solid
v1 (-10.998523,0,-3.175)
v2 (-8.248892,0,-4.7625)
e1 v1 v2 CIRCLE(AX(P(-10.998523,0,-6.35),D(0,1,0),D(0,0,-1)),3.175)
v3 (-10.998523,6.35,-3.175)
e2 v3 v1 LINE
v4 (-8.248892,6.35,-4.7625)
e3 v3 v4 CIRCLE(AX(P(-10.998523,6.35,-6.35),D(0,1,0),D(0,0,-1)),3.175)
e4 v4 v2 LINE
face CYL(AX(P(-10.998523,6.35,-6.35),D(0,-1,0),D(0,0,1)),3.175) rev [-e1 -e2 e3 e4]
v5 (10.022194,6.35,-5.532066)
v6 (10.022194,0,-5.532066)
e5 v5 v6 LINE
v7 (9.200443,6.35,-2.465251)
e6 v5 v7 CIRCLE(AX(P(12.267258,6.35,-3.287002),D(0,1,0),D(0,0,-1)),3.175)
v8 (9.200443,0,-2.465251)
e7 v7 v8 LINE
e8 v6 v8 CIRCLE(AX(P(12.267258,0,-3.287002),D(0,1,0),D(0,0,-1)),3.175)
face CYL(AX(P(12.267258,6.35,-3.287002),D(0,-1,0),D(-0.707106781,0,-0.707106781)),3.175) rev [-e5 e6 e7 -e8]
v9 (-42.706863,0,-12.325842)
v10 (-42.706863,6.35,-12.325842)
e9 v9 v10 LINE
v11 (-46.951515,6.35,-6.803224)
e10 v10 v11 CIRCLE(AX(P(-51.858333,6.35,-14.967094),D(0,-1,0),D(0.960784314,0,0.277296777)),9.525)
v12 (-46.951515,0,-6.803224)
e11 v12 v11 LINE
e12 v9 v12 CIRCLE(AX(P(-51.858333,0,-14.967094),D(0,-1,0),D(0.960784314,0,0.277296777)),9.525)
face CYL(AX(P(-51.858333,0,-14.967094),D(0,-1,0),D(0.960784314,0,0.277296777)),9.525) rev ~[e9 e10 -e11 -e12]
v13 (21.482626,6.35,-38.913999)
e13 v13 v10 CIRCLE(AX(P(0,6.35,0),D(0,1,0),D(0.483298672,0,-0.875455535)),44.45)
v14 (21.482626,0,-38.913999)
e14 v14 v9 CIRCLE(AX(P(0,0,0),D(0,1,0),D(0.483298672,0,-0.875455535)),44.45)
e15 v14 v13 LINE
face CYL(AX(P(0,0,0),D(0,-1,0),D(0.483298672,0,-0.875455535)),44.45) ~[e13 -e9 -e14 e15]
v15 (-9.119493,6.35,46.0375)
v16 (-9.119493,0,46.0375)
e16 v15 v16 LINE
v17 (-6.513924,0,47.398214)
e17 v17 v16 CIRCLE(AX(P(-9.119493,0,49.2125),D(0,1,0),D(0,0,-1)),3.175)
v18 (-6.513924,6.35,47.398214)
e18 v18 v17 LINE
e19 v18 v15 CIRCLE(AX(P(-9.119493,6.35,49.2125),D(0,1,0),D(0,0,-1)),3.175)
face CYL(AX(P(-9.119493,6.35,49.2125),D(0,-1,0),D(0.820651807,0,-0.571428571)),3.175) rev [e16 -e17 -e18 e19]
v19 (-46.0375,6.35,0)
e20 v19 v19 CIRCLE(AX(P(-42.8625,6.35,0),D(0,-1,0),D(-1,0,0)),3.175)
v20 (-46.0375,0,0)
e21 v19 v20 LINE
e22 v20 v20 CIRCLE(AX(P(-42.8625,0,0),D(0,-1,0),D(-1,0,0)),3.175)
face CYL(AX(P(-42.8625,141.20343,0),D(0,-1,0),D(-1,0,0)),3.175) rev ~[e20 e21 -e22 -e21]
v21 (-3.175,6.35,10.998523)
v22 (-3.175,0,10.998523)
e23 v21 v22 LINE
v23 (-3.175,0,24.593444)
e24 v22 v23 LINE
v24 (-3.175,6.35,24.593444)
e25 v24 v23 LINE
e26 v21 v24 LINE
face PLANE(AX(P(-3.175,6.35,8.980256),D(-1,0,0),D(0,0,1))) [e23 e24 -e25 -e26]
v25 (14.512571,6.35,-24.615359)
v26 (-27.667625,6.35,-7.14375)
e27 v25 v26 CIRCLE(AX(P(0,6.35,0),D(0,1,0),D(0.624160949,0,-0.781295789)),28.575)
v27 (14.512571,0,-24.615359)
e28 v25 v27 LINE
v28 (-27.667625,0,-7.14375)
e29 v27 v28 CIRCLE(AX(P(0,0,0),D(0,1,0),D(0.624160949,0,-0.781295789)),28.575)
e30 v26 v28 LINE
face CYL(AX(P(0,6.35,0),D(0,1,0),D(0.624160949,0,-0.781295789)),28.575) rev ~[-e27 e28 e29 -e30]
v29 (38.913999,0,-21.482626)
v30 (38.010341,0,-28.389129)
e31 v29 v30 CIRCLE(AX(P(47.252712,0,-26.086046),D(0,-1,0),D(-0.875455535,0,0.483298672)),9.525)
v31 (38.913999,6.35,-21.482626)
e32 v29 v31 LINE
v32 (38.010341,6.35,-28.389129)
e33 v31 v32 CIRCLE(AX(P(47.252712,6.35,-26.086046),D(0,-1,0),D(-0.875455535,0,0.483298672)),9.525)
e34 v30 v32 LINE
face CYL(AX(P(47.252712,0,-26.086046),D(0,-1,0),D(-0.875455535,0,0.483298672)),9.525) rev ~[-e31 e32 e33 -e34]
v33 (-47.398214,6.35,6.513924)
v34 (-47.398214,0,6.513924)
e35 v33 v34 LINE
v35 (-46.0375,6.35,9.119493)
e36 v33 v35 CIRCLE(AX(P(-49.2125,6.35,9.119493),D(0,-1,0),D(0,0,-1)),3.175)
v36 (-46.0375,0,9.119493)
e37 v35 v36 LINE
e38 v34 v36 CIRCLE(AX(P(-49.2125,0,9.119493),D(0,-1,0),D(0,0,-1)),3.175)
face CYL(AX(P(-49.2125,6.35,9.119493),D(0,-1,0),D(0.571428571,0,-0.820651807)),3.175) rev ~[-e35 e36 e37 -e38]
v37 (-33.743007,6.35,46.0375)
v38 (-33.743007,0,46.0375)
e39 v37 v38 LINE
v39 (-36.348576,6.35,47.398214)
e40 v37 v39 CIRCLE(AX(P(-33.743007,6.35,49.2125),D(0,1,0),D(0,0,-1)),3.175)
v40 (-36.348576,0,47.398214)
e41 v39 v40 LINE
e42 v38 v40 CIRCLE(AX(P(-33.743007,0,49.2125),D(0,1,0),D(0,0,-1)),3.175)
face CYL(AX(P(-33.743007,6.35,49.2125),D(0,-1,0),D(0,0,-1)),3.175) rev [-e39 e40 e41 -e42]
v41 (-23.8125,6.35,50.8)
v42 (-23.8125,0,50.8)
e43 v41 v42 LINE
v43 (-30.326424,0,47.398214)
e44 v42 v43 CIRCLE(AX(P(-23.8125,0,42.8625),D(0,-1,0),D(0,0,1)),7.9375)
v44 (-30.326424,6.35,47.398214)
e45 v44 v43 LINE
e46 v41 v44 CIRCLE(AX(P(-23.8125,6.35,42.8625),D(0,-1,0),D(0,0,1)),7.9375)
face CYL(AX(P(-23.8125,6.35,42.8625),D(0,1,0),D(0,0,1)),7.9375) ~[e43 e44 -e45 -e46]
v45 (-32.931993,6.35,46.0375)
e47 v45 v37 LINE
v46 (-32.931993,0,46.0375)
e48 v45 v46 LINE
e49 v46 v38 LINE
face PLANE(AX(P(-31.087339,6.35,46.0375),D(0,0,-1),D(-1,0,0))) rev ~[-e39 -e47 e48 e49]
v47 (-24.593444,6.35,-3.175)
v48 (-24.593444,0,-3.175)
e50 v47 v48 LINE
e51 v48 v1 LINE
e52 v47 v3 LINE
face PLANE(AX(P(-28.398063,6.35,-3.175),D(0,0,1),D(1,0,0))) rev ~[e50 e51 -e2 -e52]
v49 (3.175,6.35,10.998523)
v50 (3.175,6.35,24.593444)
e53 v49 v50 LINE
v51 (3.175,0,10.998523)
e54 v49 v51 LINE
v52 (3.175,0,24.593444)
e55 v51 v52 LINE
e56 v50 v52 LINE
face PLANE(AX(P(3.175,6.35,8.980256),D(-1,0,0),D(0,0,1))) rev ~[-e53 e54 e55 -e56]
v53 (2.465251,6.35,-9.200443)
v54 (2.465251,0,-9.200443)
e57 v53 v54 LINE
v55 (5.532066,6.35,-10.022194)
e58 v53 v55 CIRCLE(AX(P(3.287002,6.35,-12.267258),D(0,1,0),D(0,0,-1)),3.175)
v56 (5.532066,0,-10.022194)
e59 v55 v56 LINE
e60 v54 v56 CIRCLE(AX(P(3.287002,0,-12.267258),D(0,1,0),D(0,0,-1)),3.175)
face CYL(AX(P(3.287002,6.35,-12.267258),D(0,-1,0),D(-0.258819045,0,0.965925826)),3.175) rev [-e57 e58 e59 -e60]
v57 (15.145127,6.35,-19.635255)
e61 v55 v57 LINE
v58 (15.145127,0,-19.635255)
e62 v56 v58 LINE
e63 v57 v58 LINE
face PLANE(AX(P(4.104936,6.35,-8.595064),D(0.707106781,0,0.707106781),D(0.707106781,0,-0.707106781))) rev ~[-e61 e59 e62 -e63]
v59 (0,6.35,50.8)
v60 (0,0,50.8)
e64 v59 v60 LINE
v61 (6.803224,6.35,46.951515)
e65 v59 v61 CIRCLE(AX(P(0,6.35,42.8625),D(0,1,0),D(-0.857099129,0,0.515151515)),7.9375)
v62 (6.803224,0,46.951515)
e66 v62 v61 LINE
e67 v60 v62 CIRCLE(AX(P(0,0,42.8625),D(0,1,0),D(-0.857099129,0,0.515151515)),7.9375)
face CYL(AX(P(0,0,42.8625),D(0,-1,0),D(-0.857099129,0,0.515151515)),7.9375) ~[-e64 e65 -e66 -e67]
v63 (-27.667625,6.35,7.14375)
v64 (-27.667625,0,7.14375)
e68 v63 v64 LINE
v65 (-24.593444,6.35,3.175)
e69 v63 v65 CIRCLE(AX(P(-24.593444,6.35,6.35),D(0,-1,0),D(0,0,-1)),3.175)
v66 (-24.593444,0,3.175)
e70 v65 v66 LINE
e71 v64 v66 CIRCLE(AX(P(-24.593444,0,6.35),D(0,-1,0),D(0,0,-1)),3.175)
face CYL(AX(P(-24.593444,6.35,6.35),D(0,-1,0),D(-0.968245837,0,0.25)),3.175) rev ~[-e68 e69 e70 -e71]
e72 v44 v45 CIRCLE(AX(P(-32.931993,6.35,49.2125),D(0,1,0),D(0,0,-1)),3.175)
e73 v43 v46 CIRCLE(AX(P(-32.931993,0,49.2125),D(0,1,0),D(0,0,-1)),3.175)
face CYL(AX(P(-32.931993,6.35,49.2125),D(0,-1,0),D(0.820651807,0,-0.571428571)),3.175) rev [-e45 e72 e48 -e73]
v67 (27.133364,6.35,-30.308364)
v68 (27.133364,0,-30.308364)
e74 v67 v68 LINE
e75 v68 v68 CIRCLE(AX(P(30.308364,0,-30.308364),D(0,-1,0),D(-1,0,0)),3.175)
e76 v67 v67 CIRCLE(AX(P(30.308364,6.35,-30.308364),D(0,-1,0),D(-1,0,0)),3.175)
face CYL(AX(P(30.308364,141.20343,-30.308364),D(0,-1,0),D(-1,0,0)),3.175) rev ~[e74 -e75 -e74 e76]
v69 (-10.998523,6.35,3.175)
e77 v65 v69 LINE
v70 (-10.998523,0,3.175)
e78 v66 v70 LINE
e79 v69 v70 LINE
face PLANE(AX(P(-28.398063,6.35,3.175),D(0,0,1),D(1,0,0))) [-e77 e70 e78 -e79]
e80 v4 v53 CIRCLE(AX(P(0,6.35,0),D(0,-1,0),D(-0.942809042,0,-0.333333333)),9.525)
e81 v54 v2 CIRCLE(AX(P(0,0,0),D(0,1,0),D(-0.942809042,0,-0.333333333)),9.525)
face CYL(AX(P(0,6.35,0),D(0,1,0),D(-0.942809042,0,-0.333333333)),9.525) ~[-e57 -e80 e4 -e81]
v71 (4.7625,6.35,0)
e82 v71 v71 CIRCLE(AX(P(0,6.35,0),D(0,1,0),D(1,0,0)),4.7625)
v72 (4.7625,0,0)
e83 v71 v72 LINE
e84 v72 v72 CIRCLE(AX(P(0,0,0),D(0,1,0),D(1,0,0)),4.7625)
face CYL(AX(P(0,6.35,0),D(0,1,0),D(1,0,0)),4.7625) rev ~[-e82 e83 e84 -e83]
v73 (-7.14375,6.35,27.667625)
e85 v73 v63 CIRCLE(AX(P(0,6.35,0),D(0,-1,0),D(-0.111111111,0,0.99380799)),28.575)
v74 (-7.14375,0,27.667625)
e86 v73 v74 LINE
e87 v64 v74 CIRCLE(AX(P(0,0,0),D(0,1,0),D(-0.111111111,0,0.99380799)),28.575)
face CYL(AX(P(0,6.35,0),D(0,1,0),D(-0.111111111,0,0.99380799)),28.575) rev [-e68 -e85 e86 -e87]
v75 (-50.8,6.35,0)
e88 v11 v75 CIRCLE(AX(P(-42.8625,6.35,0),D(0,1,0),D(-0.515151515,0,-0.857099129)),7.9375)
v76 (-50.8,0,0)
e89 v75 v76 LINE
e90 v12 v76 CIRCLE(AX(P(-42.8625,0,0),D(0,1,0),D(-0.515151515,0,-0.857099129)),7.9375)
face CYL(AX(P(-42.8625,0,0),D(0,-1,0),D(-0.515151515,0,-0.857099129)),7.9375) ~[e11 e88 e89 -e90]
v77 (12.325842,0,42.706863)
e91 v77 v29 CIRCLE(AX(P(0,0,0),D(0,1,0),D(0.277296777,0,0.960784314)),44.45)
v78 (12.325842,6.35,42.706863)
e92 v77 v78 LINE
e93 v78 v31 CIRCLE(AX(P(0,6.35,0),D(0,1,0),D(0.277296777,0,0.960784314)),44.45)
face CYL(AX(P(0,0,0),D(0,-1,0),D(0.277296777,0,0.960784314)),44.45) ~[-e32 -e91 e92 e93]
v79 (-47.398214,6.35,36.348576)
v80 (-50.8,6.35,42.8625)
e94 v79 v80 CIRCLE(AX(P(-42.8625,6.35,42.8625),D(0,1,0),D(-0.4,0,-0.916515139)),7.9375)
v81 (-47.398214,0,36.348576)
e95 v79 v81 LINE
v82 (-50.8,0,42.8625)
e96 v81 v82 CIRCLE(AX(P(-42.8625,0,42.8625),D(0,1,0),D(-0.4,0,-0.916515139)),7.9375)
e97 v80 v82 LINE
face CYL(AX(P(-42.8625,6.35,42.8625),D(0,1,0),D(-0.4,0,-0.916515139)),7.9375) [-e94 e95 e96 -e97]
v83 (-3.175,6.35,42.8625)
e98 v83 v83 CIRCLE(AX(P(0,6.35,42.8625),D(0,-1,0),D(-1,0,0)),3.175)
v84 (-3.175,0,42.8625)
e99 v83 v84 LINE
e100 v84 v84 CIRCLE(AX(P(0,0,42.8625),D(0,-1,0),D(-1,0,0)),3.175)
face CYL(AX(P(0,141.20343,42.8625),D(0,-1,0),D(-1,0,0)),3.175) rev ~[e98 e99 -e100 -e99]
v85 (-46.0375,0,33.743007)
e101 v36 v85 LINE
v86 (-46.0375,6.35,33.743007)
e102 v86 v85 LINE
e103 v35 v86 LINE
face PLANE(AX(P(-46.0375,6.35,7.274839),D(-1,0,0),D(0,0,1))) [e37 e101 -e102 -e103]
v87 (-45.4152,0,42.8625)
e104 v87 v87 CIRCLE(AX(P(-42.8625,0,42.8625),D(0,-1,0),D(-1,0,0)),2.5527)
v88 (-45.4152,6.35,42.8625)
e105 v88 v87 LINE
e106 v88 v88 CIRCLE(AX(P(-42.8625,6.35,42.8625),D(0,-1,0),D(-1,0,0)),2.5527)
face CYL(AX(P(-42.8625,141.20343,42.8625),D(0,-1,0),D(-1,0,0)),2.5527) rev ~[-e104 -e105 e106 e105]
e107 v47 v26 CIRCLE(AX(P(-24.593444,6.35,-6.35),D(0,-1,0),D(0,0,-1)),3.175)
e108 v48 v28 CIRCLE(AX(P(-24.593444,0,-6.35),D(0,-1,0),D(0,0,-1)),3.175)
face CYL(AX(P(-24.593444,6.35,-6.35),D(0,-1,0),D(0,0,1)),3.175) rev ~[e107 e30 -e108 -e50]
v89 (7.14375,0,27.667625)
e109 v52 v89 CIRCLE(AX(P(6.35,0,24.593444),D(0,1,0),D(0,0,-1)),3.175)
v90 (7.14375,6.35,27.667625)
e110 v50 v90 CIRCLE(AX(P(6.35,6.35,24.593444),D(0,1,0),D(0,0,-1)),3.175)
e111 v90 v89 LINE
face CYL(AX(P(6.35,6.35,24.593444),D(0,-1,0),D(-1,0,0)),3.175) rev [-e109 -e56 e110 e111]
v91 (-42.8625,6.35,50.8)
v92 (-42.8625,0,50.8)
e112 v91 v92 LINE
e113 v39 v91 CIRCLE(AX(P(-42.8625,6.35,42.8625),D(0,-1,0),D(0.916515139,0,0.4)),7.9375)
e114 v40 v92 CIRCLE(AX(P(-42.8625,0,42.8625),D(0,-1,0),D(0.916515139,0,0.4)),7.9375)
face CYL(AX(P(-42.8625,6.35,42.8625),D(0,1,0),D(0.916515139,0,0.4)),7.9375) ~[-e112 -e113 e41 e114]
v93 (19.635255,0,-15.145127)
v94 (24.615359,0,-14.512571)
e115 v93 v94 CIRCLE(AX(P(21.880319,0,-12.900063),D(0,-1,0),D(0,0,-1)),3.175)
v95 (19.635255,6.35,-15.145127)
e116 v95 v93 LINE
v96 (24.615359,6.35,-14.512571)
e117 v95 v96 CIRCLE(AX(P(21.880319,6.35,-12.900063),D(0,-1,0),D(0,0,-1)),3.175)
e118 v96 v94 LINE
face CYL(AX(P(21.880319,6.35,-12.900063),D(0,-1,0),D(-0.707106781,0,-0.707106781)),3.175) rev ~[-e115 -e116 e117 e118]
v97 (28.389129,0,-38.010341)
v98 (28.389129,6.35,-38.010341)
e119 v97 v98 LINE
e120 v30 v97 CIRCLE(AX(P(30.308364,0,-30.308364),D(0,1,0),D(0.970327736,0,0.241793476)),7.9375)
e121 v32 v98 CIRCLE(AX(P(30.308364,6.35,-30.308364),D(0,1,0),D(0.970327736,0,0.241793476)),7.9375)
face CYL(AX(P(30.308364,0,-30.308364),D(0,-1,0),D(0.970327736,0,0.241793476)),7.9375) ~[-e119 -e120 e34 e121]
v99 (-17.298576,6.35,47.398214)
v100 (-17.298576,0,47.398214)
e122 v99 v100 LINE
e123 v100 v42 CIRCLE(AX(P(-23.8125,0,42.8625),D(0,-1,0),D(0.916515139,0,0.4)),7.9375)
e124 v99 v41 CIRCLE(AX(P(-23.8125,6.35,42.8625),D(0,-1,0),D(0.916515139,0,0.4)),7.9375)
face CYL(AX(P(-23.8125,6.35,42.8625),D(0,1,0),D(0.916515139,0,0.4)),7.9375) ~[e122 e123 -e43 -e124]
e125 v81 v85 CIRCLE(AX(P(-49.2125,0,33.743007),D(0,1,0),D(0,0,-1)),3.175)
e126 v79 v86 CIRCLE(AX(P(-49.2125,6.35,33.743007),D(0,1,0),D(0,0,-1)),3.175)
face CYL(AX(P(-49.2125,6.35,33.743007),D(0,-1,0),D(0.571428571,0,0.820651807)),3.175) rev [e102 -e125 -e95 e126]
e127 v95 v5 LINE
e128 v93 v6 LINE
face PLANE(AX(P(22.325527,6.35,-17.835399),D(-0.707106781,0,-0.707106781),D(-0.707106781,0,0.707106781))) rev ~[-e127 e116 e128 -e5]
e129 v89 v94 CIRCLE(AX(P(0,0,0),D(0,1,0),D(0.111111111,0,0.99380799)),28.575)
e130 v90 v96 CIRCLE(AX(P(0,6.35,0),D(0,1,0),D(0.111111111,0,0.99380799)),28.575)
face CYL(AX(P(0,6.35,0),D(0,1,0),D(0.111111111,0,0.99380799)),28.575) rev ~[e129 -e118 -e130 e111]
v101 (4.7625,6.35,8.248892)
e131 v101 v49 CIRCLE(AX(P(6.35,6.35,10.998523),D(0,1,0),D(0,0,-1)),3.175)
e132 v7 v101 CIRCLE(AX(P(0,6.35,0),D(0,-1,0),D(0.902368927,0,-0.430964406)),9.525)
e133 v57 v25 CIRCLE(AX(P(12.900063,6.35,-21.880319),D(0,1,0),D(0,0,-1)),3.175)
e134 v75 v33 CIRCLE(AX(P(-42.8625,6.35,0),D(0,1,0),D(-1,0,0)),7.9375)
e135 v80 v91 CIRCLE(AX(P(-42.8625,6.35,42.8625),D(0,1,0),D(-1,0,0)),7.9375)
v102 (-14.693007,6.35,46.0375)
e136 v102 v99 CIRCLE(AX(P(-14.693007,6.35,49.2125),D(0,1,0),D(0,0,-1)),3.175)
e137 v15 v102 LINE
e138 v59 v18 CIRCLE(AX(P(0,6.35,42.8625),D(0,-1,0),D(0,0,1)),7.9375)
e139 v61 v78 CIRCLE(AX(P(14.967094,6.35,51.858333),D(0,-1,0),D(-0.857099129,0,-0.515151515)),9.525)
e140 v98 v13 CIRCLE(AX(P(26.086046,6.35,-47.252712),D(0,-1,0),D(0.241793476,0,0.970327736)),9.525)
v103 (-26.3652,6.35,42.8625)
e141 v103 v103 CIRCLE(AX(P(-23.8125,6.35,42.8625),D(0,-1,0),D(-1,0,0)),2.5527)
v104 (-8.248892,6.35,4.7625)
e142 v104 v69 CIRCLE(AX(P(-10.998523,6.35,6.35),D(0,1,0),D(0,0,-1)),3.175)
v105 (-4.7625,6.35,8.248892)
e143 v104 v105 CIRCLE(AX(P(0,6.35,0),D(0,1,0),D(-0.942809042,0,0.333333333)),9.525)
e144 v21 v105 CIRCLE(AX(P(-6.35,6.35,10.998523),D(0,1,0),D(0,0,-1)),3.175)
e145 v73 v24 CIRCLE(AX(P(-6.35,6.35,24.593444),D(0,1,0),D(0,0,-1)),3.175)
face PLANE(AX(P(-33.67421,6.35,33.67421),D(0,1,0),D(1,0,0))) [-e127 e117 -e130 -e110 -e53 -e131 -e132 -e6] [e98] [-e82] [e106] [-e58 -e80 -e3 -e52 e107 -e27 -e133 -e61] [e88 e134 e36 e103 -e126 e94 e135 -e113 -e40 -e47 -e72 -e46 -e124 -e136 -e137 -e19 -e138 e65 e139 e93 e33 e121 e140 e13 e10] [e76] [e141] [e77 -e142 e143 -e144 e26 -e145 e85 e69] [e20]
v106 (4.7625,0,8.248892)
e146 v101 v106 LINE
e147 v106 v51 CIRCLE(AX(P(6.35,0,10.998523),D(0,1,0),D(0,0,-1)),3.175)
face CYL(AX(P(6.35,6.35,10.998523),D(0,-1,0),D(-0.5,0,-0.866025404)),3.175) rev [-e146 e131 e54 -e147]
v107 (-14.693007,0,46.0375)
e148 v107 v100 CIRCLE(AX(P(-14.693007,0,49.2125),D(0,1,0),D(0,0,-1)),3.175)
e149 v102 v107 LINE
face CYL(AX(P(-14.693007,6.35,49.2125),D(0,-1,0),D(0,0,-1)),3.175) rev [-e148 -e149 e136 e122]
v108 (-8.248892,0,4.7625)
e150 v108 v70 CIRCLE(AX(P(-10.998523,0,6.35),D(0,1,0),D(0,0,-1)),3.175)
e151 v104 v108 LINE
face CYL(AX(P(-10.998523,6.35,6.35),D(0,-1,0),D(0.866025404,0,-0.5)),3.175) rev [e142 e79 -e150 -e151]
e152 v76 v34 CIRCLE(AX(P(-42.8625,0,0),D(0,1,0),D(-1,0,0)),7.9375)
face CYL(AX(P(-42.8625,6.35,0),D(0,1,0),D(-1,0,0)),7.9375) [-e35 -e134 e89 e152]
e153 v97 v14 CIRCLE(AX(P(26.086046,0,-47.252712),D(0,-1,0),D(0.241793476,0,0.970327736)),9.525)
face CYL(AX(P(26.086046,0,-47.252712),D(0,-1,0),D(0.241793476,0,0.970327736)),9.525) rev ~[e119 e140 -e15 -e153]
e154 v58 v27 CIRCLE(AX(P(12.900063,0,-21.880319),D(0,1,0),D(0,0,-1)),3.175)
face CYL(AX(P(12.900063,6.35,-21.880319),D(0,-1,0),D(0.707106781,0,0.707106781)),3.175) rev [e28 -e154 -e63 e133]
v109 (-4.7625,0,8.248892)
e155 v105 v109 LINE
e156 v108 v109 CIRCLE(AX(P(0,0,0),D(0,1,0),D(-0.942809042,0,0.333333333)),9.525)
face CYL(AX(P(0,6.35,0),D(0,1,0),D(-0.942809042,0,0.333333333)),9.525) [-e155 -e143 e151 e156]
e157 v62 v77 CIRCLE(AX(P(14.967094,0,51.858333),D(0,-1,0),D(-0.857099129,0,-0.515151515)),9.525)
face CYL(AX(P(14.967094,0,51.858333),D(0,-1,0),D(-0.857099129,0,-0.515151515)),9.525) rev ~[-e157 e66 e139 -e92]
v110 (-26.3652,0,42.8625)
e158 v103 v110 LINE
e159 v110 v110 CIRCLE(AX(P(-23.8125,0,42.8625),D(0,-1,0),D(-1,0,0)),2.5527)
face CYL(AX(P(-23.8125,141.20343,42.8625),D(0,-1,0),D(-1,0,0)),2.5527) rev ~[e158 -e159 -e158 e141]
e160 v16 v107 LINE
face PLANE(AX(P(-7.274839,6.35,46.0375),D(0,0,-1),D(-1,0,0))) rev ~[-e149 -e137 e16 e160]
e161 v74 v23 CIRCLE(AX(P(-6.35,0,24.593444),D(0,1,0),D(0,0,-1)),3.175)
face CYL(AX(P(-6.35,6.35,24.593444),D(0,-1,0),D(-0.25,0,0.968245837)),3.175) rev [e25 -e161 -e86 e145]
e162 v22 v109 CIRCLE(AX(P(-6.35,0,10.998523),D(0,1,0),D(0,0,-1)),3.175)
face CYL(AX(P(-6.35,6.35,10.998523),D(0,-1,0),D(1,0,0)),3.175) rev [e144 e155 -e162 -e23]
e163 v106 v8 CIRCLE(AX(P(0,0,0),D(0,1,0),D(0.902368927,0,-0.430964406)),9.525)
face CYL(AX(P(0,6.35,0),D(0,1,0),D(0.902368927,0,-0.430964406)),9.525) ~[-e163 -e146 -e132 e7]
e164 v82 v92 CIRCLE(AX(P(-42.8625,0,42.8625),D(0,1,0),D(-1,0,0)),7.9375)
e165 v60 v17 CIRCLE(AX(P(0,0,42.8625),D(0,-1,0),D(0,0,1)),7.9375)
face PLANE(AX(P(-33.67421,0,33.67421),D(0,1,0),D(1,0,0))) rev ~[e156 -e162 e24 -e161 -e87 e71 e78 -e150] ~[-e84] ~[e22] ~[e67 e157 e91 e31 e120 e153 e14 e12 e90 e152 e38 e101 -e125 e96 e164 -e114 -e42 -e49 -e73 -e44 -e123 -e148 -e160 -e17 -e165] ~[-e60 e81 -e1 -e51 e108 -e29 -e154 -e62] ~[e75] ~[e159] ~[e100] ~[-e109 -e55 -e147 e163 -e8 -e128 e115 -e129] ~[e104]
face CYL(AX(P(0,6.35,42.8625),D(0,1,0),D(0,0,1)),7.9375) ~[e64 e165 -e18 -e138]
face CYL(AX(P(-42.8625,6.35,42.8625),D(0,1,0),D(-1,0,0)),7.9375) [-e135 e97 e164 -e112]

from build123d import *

# Parameters (mm, degrees)
BOSS_EXTRUDE1_DEPTH         = 6.35
SKETCH2_R                   = 4.7625
CUT_EXTRUDE1_DEPTH          = 7.35
F_1_4_0_25_DIAMETER_HOLE1_D = 6.35
CUT_EXTRUDE2_DEPTH          = 7.35
FILLET1_R                   = 3.175
BOSS_EXTRUDE2_DEPTH         = 6.35
F_10_CLEARANCE_HOLE1_D      = 5.1054
CUT_EXTRUDE5_DEPTH          = 6.35
FILLET3_R                   = 3.175


with BuildPart() as part:
    # Sketch1 → Boss-Extrude1 (new body)
    with BuildSketch(Plane(origin=(0, 0, 0), x_dir=(1, 0, 0), z_dir=(0, 1, 0))):
        with BuildLine():
            ThreePointArc((-42.706862745, -12.325841735), (-31.430896424, -31.430896424), (-12.325841735, -42.706862745))
            ThreePointArc((-12.325841735, -42.706862745), (-9.162618669, -44.306267621), (-6.803224334, -46.951515152))
            ThreePointArc((-6.803224334, -46.951515152), (0, -50.8), (6.803224334, -46.951515152))
            ThreePointArc((6.803224334, -46.951515152), (9.162618669, -44.306267621), (12.325841735, -42.706862745))
            ThreePointArc((12.325841735, -42.706862745), (41.06644522, -17.010278569), (38.913998525, 21.482625976))
            ThreePointArc((38.913998525, 21.482625976), (37.808212078, 24.85031249), (38.010340811, 28.38912869))
            ThreePointArc((38.010340811, 28.38912869), (35.921024484, 35.921024484), (28.38912869, 38.010340811))
            ThreePointArc((28.38912869, 38.010340811), (24.85031249, 37.808212078), (21.482625976, 38.913998525))
            ThreePointArc((21.482625976, 38.913998525), (-17.010278569, 41.06644522), (-42.706862745, 12.325841735))
            ThreePointArc((-42.706862745, 12.325841735), (-44.306267621, 9.162618669), (-46.951515152, 6.803224334))
            ThreePointArc((-46.951515152, 6.803224334), (-50.8, 0), (-46.951515152, -6.803224334))
            ThreePointArc((-46.951515152, -6.803224334), (-44.306267621, -9.162618669), (-42.706862745, -12.325841735))
        make_face()
    extrude(amount=BOSS_EXTRUDE1_DEPTH)

    # Sketch2 → Cut-Extrude1 (cut, through all)
    with BuildSketch(Plane(origin=(0, 6.35, 0), x_dir=(1, 0, 0), z_dir=(0, 1, 0))):
        Circle(SKETCH2_R)
    extrude(amount=-CUT_EXTRUDE1_DEPTH, mode=Mode.SUBTRACT)

    # 1/4 (0.25) Diameter Hole1 (through all)
    with Locations(Plane(origin=(0, 6.35, 0), x_dir=(1, 0, 0), z_dir=(0, 1, 0))):
        with Locations((-42.8625, 0), (30.308364409, 30.308364409), (0, -42.8625)):
            Hole(F_1_4_0_25_DIAMETER_HOLE1_D / 2)

    # Sketch5 → Cut-Extrude2 (cut, through all)
    with BuildSketch(Plane(origin=(0, 6.35, 0), x_dir=(1, 0, 0), z_dir=(0, 1, 0))):
        with BuildLine():
            Line((-28.398063314, 3.175), (-8.980256121, 3.175))
            ThreePointArc((-8.980256121, 3.175), (-3.645059693, 8.799952547), (4.10493597, 8.59506403))
            Line((4.10493597, 8.59506403), (17.835399112, 22.325527172))
            ThreePointArc((17.835399112, 22.325527172), (-10.93517908, 26.399857642), (-28.398063314, 3.175))
        make_face()
        with BuildLine():
            Line((-28.398063314, -3.175), (-8.980256121, -3.175))
            ThreePointArc((-8.980256121, -3.175), (-6.735192091, -6.735192091), (-3.175, -8.980256121))
            Line((-3.175, -8.980256121), (-3.175, -28.398063314))
            ThreePointArc((-3.175, -28.398063314), (-20.205576272, -20.205576272), (-28.398063314, -3.175))
        make_face()
        with BuildLine():
            Line((22.325527172, 17.835399112), (8.59506403, 4.10493597))
            ThreePointArc((8.59506403, 4.10493597), (8.799952547, -3.645059693), (3.175, -8.980256121))
            Line((3.175, -8.980256121), (3.175, -28.398063314))
            ThreePointArc((3.175, -28.398063314), (26.399857642, -10.93517908), (22.325527172, 17.835399112))
        make_face()
    extrude(amount=-CUT_EXTRUDE2_DEPTH, mode=Mode.SUBTRACT)

    # Fillet1
    fillet1_edges = [part.edges().sort_by_distance(p)[0] for p in [
        (22.325527172, 3.175, -17.835399112),
        (3.175, 3.175, 28.398063314),
        (3.175, 3.175, 8.980256121),
        (8.59506403, 3.175, -4.10493597),
        (-3.175, 3.175, 28.398063314),
        (-28.398063314, 3.175, 3.175),
        (-8.980256121, 3.175, 3.175),
        (-3.175, 3.175, 8.980256121),
        (-28.398063314, 3.175, -3.175),
        (17.835399112, 3.175, -22.325527172),
        (4.10493597, 3.175, -8.59506403),
        (-8.980256121, 3.175, -3.175),
    ]]
    fillet(fillet1_edges, radius=FILLET1_R)

    # Sketch8 → Boss-Extrude2 (add)
    with BuildSketch(Plane(origin=(0, 6.35, 0), x_dir=(1, 0, 0), z_dir=(0, 1, 0))):
        with BuildLine():
            Line((-50.8, 0), (-50.8, -42.8625))
            ThreePointArc((-50.8, -42.8625), (-48.475160076, -48.475160076), (-42.8625, -50.8))
            Line((-42.8625, -50.8), (0, -50.8))
            ThreePointArc((0, -50.8), (-3.908154839, -49.771206971), (-6.803224334, -46.951515152))
            ThreePointArc((-6.803224334, -46.951515152), (-9.162618669, -44.306267621), (-12.325841735, -42.706862745))
            ThreePointArc((-12.325841735, -42.706862745), (-31.430896424, -31.430896424), (-42.706862745, -12.325841735))
            ThreePointArc((-42.706862745, -12.325841735), (-44.306267621, -9.162618669), (-46.951515152, -6.803224334))
            ThreePointArc((-46.951515152, -6.803224334), (-49.771206971, -3.908154839), (-50.8, 0))
        make_face()
    extrude(amount=-BOSS_EXTRUDE2_DEPTH)

    # #10 Clearance Hole1 (through all)
    with Locations(Plane(origin=(0, 6.35, 0), x_dir=(1, 0, 0), z_dir=(0, 1, 0))):
        with Locations((-42.8625, -42.8625), (-23.8125, -42.8625)):
            Hole(F_10_CLEARANCE_HOLE1_D / 2)

    # Sketch15 → Cut-Extrude5 (cut)
    with BuildSketch(Plane(origin=(0, 6.35, 0), x_dir=(1, 0, 0), z_dir=(0, 1, 0))):
        with BuildLine():
            ThreePointArc((-46.0375, -35.587661084), (-49.503488961, -38.5149522), (-50.8, -42.8625))
            Line((-50.8, -42.8625), (-50.8, 0))
            ThreePointArc((-50.8, 0), (-49.503488961, -4.3475478), (-46.0375, -7.274838916))
            Line((-46.0375, -7.274838916), (-46.0375, -35.587661084))
        make_face()
        with BuildLine():
            Line((-31.087338916, -46.0375), (-35.587661084, -46.0375))
            ThreePointArc((-35.587661084, -46.0375), (-38.5149522, -49.503488961), (-42.8625, -50.8))
            Line((-42.8625, -50.8), (-23.8125, -50.8))
            ThreePointArc((-23.8125, -50.8), (-28.1600478, -49.503488961), (-31.087338916, -46.0375))
        make_face()
        with BuildLine():
            ThreePointArc((-16.537661084, -46.0375), (-19.4649522, -49.503488961), (-23.8125, -50.8))
            Line((-23.8125, -50.8), (0, -50.8))
            ThreePointArc((0, -50.8), (-4.3475478, -49.503488961), (-7.274838916, -46.0375))
            Line((-7.274838916, -46.0375), (-16.537661084, -46.0375))
        make_face()
    extrude(amount=-CUT_EXTRUDE5_DEPTH, mode=Mode.SUBTRACT)

    # Fillet3
    fillet3_edges = [part.edges().sort_by_distance(p)[0] for p in [
        (-46.0375, 3.175, 35.587661084),
        (-46.0375, 3.175, 7.274838916),
        (-35.587661084, 3.175, 46.0375),
        (-31.087338916, 3.175, 46.0375),
        (-16.537661084, 3.175, 46.0375),
        (-7.274838916, 3.175, 46.0375),
    ]]
    fillet(fillet3_edges, radius=FILLET3_R)


solid = part.part
